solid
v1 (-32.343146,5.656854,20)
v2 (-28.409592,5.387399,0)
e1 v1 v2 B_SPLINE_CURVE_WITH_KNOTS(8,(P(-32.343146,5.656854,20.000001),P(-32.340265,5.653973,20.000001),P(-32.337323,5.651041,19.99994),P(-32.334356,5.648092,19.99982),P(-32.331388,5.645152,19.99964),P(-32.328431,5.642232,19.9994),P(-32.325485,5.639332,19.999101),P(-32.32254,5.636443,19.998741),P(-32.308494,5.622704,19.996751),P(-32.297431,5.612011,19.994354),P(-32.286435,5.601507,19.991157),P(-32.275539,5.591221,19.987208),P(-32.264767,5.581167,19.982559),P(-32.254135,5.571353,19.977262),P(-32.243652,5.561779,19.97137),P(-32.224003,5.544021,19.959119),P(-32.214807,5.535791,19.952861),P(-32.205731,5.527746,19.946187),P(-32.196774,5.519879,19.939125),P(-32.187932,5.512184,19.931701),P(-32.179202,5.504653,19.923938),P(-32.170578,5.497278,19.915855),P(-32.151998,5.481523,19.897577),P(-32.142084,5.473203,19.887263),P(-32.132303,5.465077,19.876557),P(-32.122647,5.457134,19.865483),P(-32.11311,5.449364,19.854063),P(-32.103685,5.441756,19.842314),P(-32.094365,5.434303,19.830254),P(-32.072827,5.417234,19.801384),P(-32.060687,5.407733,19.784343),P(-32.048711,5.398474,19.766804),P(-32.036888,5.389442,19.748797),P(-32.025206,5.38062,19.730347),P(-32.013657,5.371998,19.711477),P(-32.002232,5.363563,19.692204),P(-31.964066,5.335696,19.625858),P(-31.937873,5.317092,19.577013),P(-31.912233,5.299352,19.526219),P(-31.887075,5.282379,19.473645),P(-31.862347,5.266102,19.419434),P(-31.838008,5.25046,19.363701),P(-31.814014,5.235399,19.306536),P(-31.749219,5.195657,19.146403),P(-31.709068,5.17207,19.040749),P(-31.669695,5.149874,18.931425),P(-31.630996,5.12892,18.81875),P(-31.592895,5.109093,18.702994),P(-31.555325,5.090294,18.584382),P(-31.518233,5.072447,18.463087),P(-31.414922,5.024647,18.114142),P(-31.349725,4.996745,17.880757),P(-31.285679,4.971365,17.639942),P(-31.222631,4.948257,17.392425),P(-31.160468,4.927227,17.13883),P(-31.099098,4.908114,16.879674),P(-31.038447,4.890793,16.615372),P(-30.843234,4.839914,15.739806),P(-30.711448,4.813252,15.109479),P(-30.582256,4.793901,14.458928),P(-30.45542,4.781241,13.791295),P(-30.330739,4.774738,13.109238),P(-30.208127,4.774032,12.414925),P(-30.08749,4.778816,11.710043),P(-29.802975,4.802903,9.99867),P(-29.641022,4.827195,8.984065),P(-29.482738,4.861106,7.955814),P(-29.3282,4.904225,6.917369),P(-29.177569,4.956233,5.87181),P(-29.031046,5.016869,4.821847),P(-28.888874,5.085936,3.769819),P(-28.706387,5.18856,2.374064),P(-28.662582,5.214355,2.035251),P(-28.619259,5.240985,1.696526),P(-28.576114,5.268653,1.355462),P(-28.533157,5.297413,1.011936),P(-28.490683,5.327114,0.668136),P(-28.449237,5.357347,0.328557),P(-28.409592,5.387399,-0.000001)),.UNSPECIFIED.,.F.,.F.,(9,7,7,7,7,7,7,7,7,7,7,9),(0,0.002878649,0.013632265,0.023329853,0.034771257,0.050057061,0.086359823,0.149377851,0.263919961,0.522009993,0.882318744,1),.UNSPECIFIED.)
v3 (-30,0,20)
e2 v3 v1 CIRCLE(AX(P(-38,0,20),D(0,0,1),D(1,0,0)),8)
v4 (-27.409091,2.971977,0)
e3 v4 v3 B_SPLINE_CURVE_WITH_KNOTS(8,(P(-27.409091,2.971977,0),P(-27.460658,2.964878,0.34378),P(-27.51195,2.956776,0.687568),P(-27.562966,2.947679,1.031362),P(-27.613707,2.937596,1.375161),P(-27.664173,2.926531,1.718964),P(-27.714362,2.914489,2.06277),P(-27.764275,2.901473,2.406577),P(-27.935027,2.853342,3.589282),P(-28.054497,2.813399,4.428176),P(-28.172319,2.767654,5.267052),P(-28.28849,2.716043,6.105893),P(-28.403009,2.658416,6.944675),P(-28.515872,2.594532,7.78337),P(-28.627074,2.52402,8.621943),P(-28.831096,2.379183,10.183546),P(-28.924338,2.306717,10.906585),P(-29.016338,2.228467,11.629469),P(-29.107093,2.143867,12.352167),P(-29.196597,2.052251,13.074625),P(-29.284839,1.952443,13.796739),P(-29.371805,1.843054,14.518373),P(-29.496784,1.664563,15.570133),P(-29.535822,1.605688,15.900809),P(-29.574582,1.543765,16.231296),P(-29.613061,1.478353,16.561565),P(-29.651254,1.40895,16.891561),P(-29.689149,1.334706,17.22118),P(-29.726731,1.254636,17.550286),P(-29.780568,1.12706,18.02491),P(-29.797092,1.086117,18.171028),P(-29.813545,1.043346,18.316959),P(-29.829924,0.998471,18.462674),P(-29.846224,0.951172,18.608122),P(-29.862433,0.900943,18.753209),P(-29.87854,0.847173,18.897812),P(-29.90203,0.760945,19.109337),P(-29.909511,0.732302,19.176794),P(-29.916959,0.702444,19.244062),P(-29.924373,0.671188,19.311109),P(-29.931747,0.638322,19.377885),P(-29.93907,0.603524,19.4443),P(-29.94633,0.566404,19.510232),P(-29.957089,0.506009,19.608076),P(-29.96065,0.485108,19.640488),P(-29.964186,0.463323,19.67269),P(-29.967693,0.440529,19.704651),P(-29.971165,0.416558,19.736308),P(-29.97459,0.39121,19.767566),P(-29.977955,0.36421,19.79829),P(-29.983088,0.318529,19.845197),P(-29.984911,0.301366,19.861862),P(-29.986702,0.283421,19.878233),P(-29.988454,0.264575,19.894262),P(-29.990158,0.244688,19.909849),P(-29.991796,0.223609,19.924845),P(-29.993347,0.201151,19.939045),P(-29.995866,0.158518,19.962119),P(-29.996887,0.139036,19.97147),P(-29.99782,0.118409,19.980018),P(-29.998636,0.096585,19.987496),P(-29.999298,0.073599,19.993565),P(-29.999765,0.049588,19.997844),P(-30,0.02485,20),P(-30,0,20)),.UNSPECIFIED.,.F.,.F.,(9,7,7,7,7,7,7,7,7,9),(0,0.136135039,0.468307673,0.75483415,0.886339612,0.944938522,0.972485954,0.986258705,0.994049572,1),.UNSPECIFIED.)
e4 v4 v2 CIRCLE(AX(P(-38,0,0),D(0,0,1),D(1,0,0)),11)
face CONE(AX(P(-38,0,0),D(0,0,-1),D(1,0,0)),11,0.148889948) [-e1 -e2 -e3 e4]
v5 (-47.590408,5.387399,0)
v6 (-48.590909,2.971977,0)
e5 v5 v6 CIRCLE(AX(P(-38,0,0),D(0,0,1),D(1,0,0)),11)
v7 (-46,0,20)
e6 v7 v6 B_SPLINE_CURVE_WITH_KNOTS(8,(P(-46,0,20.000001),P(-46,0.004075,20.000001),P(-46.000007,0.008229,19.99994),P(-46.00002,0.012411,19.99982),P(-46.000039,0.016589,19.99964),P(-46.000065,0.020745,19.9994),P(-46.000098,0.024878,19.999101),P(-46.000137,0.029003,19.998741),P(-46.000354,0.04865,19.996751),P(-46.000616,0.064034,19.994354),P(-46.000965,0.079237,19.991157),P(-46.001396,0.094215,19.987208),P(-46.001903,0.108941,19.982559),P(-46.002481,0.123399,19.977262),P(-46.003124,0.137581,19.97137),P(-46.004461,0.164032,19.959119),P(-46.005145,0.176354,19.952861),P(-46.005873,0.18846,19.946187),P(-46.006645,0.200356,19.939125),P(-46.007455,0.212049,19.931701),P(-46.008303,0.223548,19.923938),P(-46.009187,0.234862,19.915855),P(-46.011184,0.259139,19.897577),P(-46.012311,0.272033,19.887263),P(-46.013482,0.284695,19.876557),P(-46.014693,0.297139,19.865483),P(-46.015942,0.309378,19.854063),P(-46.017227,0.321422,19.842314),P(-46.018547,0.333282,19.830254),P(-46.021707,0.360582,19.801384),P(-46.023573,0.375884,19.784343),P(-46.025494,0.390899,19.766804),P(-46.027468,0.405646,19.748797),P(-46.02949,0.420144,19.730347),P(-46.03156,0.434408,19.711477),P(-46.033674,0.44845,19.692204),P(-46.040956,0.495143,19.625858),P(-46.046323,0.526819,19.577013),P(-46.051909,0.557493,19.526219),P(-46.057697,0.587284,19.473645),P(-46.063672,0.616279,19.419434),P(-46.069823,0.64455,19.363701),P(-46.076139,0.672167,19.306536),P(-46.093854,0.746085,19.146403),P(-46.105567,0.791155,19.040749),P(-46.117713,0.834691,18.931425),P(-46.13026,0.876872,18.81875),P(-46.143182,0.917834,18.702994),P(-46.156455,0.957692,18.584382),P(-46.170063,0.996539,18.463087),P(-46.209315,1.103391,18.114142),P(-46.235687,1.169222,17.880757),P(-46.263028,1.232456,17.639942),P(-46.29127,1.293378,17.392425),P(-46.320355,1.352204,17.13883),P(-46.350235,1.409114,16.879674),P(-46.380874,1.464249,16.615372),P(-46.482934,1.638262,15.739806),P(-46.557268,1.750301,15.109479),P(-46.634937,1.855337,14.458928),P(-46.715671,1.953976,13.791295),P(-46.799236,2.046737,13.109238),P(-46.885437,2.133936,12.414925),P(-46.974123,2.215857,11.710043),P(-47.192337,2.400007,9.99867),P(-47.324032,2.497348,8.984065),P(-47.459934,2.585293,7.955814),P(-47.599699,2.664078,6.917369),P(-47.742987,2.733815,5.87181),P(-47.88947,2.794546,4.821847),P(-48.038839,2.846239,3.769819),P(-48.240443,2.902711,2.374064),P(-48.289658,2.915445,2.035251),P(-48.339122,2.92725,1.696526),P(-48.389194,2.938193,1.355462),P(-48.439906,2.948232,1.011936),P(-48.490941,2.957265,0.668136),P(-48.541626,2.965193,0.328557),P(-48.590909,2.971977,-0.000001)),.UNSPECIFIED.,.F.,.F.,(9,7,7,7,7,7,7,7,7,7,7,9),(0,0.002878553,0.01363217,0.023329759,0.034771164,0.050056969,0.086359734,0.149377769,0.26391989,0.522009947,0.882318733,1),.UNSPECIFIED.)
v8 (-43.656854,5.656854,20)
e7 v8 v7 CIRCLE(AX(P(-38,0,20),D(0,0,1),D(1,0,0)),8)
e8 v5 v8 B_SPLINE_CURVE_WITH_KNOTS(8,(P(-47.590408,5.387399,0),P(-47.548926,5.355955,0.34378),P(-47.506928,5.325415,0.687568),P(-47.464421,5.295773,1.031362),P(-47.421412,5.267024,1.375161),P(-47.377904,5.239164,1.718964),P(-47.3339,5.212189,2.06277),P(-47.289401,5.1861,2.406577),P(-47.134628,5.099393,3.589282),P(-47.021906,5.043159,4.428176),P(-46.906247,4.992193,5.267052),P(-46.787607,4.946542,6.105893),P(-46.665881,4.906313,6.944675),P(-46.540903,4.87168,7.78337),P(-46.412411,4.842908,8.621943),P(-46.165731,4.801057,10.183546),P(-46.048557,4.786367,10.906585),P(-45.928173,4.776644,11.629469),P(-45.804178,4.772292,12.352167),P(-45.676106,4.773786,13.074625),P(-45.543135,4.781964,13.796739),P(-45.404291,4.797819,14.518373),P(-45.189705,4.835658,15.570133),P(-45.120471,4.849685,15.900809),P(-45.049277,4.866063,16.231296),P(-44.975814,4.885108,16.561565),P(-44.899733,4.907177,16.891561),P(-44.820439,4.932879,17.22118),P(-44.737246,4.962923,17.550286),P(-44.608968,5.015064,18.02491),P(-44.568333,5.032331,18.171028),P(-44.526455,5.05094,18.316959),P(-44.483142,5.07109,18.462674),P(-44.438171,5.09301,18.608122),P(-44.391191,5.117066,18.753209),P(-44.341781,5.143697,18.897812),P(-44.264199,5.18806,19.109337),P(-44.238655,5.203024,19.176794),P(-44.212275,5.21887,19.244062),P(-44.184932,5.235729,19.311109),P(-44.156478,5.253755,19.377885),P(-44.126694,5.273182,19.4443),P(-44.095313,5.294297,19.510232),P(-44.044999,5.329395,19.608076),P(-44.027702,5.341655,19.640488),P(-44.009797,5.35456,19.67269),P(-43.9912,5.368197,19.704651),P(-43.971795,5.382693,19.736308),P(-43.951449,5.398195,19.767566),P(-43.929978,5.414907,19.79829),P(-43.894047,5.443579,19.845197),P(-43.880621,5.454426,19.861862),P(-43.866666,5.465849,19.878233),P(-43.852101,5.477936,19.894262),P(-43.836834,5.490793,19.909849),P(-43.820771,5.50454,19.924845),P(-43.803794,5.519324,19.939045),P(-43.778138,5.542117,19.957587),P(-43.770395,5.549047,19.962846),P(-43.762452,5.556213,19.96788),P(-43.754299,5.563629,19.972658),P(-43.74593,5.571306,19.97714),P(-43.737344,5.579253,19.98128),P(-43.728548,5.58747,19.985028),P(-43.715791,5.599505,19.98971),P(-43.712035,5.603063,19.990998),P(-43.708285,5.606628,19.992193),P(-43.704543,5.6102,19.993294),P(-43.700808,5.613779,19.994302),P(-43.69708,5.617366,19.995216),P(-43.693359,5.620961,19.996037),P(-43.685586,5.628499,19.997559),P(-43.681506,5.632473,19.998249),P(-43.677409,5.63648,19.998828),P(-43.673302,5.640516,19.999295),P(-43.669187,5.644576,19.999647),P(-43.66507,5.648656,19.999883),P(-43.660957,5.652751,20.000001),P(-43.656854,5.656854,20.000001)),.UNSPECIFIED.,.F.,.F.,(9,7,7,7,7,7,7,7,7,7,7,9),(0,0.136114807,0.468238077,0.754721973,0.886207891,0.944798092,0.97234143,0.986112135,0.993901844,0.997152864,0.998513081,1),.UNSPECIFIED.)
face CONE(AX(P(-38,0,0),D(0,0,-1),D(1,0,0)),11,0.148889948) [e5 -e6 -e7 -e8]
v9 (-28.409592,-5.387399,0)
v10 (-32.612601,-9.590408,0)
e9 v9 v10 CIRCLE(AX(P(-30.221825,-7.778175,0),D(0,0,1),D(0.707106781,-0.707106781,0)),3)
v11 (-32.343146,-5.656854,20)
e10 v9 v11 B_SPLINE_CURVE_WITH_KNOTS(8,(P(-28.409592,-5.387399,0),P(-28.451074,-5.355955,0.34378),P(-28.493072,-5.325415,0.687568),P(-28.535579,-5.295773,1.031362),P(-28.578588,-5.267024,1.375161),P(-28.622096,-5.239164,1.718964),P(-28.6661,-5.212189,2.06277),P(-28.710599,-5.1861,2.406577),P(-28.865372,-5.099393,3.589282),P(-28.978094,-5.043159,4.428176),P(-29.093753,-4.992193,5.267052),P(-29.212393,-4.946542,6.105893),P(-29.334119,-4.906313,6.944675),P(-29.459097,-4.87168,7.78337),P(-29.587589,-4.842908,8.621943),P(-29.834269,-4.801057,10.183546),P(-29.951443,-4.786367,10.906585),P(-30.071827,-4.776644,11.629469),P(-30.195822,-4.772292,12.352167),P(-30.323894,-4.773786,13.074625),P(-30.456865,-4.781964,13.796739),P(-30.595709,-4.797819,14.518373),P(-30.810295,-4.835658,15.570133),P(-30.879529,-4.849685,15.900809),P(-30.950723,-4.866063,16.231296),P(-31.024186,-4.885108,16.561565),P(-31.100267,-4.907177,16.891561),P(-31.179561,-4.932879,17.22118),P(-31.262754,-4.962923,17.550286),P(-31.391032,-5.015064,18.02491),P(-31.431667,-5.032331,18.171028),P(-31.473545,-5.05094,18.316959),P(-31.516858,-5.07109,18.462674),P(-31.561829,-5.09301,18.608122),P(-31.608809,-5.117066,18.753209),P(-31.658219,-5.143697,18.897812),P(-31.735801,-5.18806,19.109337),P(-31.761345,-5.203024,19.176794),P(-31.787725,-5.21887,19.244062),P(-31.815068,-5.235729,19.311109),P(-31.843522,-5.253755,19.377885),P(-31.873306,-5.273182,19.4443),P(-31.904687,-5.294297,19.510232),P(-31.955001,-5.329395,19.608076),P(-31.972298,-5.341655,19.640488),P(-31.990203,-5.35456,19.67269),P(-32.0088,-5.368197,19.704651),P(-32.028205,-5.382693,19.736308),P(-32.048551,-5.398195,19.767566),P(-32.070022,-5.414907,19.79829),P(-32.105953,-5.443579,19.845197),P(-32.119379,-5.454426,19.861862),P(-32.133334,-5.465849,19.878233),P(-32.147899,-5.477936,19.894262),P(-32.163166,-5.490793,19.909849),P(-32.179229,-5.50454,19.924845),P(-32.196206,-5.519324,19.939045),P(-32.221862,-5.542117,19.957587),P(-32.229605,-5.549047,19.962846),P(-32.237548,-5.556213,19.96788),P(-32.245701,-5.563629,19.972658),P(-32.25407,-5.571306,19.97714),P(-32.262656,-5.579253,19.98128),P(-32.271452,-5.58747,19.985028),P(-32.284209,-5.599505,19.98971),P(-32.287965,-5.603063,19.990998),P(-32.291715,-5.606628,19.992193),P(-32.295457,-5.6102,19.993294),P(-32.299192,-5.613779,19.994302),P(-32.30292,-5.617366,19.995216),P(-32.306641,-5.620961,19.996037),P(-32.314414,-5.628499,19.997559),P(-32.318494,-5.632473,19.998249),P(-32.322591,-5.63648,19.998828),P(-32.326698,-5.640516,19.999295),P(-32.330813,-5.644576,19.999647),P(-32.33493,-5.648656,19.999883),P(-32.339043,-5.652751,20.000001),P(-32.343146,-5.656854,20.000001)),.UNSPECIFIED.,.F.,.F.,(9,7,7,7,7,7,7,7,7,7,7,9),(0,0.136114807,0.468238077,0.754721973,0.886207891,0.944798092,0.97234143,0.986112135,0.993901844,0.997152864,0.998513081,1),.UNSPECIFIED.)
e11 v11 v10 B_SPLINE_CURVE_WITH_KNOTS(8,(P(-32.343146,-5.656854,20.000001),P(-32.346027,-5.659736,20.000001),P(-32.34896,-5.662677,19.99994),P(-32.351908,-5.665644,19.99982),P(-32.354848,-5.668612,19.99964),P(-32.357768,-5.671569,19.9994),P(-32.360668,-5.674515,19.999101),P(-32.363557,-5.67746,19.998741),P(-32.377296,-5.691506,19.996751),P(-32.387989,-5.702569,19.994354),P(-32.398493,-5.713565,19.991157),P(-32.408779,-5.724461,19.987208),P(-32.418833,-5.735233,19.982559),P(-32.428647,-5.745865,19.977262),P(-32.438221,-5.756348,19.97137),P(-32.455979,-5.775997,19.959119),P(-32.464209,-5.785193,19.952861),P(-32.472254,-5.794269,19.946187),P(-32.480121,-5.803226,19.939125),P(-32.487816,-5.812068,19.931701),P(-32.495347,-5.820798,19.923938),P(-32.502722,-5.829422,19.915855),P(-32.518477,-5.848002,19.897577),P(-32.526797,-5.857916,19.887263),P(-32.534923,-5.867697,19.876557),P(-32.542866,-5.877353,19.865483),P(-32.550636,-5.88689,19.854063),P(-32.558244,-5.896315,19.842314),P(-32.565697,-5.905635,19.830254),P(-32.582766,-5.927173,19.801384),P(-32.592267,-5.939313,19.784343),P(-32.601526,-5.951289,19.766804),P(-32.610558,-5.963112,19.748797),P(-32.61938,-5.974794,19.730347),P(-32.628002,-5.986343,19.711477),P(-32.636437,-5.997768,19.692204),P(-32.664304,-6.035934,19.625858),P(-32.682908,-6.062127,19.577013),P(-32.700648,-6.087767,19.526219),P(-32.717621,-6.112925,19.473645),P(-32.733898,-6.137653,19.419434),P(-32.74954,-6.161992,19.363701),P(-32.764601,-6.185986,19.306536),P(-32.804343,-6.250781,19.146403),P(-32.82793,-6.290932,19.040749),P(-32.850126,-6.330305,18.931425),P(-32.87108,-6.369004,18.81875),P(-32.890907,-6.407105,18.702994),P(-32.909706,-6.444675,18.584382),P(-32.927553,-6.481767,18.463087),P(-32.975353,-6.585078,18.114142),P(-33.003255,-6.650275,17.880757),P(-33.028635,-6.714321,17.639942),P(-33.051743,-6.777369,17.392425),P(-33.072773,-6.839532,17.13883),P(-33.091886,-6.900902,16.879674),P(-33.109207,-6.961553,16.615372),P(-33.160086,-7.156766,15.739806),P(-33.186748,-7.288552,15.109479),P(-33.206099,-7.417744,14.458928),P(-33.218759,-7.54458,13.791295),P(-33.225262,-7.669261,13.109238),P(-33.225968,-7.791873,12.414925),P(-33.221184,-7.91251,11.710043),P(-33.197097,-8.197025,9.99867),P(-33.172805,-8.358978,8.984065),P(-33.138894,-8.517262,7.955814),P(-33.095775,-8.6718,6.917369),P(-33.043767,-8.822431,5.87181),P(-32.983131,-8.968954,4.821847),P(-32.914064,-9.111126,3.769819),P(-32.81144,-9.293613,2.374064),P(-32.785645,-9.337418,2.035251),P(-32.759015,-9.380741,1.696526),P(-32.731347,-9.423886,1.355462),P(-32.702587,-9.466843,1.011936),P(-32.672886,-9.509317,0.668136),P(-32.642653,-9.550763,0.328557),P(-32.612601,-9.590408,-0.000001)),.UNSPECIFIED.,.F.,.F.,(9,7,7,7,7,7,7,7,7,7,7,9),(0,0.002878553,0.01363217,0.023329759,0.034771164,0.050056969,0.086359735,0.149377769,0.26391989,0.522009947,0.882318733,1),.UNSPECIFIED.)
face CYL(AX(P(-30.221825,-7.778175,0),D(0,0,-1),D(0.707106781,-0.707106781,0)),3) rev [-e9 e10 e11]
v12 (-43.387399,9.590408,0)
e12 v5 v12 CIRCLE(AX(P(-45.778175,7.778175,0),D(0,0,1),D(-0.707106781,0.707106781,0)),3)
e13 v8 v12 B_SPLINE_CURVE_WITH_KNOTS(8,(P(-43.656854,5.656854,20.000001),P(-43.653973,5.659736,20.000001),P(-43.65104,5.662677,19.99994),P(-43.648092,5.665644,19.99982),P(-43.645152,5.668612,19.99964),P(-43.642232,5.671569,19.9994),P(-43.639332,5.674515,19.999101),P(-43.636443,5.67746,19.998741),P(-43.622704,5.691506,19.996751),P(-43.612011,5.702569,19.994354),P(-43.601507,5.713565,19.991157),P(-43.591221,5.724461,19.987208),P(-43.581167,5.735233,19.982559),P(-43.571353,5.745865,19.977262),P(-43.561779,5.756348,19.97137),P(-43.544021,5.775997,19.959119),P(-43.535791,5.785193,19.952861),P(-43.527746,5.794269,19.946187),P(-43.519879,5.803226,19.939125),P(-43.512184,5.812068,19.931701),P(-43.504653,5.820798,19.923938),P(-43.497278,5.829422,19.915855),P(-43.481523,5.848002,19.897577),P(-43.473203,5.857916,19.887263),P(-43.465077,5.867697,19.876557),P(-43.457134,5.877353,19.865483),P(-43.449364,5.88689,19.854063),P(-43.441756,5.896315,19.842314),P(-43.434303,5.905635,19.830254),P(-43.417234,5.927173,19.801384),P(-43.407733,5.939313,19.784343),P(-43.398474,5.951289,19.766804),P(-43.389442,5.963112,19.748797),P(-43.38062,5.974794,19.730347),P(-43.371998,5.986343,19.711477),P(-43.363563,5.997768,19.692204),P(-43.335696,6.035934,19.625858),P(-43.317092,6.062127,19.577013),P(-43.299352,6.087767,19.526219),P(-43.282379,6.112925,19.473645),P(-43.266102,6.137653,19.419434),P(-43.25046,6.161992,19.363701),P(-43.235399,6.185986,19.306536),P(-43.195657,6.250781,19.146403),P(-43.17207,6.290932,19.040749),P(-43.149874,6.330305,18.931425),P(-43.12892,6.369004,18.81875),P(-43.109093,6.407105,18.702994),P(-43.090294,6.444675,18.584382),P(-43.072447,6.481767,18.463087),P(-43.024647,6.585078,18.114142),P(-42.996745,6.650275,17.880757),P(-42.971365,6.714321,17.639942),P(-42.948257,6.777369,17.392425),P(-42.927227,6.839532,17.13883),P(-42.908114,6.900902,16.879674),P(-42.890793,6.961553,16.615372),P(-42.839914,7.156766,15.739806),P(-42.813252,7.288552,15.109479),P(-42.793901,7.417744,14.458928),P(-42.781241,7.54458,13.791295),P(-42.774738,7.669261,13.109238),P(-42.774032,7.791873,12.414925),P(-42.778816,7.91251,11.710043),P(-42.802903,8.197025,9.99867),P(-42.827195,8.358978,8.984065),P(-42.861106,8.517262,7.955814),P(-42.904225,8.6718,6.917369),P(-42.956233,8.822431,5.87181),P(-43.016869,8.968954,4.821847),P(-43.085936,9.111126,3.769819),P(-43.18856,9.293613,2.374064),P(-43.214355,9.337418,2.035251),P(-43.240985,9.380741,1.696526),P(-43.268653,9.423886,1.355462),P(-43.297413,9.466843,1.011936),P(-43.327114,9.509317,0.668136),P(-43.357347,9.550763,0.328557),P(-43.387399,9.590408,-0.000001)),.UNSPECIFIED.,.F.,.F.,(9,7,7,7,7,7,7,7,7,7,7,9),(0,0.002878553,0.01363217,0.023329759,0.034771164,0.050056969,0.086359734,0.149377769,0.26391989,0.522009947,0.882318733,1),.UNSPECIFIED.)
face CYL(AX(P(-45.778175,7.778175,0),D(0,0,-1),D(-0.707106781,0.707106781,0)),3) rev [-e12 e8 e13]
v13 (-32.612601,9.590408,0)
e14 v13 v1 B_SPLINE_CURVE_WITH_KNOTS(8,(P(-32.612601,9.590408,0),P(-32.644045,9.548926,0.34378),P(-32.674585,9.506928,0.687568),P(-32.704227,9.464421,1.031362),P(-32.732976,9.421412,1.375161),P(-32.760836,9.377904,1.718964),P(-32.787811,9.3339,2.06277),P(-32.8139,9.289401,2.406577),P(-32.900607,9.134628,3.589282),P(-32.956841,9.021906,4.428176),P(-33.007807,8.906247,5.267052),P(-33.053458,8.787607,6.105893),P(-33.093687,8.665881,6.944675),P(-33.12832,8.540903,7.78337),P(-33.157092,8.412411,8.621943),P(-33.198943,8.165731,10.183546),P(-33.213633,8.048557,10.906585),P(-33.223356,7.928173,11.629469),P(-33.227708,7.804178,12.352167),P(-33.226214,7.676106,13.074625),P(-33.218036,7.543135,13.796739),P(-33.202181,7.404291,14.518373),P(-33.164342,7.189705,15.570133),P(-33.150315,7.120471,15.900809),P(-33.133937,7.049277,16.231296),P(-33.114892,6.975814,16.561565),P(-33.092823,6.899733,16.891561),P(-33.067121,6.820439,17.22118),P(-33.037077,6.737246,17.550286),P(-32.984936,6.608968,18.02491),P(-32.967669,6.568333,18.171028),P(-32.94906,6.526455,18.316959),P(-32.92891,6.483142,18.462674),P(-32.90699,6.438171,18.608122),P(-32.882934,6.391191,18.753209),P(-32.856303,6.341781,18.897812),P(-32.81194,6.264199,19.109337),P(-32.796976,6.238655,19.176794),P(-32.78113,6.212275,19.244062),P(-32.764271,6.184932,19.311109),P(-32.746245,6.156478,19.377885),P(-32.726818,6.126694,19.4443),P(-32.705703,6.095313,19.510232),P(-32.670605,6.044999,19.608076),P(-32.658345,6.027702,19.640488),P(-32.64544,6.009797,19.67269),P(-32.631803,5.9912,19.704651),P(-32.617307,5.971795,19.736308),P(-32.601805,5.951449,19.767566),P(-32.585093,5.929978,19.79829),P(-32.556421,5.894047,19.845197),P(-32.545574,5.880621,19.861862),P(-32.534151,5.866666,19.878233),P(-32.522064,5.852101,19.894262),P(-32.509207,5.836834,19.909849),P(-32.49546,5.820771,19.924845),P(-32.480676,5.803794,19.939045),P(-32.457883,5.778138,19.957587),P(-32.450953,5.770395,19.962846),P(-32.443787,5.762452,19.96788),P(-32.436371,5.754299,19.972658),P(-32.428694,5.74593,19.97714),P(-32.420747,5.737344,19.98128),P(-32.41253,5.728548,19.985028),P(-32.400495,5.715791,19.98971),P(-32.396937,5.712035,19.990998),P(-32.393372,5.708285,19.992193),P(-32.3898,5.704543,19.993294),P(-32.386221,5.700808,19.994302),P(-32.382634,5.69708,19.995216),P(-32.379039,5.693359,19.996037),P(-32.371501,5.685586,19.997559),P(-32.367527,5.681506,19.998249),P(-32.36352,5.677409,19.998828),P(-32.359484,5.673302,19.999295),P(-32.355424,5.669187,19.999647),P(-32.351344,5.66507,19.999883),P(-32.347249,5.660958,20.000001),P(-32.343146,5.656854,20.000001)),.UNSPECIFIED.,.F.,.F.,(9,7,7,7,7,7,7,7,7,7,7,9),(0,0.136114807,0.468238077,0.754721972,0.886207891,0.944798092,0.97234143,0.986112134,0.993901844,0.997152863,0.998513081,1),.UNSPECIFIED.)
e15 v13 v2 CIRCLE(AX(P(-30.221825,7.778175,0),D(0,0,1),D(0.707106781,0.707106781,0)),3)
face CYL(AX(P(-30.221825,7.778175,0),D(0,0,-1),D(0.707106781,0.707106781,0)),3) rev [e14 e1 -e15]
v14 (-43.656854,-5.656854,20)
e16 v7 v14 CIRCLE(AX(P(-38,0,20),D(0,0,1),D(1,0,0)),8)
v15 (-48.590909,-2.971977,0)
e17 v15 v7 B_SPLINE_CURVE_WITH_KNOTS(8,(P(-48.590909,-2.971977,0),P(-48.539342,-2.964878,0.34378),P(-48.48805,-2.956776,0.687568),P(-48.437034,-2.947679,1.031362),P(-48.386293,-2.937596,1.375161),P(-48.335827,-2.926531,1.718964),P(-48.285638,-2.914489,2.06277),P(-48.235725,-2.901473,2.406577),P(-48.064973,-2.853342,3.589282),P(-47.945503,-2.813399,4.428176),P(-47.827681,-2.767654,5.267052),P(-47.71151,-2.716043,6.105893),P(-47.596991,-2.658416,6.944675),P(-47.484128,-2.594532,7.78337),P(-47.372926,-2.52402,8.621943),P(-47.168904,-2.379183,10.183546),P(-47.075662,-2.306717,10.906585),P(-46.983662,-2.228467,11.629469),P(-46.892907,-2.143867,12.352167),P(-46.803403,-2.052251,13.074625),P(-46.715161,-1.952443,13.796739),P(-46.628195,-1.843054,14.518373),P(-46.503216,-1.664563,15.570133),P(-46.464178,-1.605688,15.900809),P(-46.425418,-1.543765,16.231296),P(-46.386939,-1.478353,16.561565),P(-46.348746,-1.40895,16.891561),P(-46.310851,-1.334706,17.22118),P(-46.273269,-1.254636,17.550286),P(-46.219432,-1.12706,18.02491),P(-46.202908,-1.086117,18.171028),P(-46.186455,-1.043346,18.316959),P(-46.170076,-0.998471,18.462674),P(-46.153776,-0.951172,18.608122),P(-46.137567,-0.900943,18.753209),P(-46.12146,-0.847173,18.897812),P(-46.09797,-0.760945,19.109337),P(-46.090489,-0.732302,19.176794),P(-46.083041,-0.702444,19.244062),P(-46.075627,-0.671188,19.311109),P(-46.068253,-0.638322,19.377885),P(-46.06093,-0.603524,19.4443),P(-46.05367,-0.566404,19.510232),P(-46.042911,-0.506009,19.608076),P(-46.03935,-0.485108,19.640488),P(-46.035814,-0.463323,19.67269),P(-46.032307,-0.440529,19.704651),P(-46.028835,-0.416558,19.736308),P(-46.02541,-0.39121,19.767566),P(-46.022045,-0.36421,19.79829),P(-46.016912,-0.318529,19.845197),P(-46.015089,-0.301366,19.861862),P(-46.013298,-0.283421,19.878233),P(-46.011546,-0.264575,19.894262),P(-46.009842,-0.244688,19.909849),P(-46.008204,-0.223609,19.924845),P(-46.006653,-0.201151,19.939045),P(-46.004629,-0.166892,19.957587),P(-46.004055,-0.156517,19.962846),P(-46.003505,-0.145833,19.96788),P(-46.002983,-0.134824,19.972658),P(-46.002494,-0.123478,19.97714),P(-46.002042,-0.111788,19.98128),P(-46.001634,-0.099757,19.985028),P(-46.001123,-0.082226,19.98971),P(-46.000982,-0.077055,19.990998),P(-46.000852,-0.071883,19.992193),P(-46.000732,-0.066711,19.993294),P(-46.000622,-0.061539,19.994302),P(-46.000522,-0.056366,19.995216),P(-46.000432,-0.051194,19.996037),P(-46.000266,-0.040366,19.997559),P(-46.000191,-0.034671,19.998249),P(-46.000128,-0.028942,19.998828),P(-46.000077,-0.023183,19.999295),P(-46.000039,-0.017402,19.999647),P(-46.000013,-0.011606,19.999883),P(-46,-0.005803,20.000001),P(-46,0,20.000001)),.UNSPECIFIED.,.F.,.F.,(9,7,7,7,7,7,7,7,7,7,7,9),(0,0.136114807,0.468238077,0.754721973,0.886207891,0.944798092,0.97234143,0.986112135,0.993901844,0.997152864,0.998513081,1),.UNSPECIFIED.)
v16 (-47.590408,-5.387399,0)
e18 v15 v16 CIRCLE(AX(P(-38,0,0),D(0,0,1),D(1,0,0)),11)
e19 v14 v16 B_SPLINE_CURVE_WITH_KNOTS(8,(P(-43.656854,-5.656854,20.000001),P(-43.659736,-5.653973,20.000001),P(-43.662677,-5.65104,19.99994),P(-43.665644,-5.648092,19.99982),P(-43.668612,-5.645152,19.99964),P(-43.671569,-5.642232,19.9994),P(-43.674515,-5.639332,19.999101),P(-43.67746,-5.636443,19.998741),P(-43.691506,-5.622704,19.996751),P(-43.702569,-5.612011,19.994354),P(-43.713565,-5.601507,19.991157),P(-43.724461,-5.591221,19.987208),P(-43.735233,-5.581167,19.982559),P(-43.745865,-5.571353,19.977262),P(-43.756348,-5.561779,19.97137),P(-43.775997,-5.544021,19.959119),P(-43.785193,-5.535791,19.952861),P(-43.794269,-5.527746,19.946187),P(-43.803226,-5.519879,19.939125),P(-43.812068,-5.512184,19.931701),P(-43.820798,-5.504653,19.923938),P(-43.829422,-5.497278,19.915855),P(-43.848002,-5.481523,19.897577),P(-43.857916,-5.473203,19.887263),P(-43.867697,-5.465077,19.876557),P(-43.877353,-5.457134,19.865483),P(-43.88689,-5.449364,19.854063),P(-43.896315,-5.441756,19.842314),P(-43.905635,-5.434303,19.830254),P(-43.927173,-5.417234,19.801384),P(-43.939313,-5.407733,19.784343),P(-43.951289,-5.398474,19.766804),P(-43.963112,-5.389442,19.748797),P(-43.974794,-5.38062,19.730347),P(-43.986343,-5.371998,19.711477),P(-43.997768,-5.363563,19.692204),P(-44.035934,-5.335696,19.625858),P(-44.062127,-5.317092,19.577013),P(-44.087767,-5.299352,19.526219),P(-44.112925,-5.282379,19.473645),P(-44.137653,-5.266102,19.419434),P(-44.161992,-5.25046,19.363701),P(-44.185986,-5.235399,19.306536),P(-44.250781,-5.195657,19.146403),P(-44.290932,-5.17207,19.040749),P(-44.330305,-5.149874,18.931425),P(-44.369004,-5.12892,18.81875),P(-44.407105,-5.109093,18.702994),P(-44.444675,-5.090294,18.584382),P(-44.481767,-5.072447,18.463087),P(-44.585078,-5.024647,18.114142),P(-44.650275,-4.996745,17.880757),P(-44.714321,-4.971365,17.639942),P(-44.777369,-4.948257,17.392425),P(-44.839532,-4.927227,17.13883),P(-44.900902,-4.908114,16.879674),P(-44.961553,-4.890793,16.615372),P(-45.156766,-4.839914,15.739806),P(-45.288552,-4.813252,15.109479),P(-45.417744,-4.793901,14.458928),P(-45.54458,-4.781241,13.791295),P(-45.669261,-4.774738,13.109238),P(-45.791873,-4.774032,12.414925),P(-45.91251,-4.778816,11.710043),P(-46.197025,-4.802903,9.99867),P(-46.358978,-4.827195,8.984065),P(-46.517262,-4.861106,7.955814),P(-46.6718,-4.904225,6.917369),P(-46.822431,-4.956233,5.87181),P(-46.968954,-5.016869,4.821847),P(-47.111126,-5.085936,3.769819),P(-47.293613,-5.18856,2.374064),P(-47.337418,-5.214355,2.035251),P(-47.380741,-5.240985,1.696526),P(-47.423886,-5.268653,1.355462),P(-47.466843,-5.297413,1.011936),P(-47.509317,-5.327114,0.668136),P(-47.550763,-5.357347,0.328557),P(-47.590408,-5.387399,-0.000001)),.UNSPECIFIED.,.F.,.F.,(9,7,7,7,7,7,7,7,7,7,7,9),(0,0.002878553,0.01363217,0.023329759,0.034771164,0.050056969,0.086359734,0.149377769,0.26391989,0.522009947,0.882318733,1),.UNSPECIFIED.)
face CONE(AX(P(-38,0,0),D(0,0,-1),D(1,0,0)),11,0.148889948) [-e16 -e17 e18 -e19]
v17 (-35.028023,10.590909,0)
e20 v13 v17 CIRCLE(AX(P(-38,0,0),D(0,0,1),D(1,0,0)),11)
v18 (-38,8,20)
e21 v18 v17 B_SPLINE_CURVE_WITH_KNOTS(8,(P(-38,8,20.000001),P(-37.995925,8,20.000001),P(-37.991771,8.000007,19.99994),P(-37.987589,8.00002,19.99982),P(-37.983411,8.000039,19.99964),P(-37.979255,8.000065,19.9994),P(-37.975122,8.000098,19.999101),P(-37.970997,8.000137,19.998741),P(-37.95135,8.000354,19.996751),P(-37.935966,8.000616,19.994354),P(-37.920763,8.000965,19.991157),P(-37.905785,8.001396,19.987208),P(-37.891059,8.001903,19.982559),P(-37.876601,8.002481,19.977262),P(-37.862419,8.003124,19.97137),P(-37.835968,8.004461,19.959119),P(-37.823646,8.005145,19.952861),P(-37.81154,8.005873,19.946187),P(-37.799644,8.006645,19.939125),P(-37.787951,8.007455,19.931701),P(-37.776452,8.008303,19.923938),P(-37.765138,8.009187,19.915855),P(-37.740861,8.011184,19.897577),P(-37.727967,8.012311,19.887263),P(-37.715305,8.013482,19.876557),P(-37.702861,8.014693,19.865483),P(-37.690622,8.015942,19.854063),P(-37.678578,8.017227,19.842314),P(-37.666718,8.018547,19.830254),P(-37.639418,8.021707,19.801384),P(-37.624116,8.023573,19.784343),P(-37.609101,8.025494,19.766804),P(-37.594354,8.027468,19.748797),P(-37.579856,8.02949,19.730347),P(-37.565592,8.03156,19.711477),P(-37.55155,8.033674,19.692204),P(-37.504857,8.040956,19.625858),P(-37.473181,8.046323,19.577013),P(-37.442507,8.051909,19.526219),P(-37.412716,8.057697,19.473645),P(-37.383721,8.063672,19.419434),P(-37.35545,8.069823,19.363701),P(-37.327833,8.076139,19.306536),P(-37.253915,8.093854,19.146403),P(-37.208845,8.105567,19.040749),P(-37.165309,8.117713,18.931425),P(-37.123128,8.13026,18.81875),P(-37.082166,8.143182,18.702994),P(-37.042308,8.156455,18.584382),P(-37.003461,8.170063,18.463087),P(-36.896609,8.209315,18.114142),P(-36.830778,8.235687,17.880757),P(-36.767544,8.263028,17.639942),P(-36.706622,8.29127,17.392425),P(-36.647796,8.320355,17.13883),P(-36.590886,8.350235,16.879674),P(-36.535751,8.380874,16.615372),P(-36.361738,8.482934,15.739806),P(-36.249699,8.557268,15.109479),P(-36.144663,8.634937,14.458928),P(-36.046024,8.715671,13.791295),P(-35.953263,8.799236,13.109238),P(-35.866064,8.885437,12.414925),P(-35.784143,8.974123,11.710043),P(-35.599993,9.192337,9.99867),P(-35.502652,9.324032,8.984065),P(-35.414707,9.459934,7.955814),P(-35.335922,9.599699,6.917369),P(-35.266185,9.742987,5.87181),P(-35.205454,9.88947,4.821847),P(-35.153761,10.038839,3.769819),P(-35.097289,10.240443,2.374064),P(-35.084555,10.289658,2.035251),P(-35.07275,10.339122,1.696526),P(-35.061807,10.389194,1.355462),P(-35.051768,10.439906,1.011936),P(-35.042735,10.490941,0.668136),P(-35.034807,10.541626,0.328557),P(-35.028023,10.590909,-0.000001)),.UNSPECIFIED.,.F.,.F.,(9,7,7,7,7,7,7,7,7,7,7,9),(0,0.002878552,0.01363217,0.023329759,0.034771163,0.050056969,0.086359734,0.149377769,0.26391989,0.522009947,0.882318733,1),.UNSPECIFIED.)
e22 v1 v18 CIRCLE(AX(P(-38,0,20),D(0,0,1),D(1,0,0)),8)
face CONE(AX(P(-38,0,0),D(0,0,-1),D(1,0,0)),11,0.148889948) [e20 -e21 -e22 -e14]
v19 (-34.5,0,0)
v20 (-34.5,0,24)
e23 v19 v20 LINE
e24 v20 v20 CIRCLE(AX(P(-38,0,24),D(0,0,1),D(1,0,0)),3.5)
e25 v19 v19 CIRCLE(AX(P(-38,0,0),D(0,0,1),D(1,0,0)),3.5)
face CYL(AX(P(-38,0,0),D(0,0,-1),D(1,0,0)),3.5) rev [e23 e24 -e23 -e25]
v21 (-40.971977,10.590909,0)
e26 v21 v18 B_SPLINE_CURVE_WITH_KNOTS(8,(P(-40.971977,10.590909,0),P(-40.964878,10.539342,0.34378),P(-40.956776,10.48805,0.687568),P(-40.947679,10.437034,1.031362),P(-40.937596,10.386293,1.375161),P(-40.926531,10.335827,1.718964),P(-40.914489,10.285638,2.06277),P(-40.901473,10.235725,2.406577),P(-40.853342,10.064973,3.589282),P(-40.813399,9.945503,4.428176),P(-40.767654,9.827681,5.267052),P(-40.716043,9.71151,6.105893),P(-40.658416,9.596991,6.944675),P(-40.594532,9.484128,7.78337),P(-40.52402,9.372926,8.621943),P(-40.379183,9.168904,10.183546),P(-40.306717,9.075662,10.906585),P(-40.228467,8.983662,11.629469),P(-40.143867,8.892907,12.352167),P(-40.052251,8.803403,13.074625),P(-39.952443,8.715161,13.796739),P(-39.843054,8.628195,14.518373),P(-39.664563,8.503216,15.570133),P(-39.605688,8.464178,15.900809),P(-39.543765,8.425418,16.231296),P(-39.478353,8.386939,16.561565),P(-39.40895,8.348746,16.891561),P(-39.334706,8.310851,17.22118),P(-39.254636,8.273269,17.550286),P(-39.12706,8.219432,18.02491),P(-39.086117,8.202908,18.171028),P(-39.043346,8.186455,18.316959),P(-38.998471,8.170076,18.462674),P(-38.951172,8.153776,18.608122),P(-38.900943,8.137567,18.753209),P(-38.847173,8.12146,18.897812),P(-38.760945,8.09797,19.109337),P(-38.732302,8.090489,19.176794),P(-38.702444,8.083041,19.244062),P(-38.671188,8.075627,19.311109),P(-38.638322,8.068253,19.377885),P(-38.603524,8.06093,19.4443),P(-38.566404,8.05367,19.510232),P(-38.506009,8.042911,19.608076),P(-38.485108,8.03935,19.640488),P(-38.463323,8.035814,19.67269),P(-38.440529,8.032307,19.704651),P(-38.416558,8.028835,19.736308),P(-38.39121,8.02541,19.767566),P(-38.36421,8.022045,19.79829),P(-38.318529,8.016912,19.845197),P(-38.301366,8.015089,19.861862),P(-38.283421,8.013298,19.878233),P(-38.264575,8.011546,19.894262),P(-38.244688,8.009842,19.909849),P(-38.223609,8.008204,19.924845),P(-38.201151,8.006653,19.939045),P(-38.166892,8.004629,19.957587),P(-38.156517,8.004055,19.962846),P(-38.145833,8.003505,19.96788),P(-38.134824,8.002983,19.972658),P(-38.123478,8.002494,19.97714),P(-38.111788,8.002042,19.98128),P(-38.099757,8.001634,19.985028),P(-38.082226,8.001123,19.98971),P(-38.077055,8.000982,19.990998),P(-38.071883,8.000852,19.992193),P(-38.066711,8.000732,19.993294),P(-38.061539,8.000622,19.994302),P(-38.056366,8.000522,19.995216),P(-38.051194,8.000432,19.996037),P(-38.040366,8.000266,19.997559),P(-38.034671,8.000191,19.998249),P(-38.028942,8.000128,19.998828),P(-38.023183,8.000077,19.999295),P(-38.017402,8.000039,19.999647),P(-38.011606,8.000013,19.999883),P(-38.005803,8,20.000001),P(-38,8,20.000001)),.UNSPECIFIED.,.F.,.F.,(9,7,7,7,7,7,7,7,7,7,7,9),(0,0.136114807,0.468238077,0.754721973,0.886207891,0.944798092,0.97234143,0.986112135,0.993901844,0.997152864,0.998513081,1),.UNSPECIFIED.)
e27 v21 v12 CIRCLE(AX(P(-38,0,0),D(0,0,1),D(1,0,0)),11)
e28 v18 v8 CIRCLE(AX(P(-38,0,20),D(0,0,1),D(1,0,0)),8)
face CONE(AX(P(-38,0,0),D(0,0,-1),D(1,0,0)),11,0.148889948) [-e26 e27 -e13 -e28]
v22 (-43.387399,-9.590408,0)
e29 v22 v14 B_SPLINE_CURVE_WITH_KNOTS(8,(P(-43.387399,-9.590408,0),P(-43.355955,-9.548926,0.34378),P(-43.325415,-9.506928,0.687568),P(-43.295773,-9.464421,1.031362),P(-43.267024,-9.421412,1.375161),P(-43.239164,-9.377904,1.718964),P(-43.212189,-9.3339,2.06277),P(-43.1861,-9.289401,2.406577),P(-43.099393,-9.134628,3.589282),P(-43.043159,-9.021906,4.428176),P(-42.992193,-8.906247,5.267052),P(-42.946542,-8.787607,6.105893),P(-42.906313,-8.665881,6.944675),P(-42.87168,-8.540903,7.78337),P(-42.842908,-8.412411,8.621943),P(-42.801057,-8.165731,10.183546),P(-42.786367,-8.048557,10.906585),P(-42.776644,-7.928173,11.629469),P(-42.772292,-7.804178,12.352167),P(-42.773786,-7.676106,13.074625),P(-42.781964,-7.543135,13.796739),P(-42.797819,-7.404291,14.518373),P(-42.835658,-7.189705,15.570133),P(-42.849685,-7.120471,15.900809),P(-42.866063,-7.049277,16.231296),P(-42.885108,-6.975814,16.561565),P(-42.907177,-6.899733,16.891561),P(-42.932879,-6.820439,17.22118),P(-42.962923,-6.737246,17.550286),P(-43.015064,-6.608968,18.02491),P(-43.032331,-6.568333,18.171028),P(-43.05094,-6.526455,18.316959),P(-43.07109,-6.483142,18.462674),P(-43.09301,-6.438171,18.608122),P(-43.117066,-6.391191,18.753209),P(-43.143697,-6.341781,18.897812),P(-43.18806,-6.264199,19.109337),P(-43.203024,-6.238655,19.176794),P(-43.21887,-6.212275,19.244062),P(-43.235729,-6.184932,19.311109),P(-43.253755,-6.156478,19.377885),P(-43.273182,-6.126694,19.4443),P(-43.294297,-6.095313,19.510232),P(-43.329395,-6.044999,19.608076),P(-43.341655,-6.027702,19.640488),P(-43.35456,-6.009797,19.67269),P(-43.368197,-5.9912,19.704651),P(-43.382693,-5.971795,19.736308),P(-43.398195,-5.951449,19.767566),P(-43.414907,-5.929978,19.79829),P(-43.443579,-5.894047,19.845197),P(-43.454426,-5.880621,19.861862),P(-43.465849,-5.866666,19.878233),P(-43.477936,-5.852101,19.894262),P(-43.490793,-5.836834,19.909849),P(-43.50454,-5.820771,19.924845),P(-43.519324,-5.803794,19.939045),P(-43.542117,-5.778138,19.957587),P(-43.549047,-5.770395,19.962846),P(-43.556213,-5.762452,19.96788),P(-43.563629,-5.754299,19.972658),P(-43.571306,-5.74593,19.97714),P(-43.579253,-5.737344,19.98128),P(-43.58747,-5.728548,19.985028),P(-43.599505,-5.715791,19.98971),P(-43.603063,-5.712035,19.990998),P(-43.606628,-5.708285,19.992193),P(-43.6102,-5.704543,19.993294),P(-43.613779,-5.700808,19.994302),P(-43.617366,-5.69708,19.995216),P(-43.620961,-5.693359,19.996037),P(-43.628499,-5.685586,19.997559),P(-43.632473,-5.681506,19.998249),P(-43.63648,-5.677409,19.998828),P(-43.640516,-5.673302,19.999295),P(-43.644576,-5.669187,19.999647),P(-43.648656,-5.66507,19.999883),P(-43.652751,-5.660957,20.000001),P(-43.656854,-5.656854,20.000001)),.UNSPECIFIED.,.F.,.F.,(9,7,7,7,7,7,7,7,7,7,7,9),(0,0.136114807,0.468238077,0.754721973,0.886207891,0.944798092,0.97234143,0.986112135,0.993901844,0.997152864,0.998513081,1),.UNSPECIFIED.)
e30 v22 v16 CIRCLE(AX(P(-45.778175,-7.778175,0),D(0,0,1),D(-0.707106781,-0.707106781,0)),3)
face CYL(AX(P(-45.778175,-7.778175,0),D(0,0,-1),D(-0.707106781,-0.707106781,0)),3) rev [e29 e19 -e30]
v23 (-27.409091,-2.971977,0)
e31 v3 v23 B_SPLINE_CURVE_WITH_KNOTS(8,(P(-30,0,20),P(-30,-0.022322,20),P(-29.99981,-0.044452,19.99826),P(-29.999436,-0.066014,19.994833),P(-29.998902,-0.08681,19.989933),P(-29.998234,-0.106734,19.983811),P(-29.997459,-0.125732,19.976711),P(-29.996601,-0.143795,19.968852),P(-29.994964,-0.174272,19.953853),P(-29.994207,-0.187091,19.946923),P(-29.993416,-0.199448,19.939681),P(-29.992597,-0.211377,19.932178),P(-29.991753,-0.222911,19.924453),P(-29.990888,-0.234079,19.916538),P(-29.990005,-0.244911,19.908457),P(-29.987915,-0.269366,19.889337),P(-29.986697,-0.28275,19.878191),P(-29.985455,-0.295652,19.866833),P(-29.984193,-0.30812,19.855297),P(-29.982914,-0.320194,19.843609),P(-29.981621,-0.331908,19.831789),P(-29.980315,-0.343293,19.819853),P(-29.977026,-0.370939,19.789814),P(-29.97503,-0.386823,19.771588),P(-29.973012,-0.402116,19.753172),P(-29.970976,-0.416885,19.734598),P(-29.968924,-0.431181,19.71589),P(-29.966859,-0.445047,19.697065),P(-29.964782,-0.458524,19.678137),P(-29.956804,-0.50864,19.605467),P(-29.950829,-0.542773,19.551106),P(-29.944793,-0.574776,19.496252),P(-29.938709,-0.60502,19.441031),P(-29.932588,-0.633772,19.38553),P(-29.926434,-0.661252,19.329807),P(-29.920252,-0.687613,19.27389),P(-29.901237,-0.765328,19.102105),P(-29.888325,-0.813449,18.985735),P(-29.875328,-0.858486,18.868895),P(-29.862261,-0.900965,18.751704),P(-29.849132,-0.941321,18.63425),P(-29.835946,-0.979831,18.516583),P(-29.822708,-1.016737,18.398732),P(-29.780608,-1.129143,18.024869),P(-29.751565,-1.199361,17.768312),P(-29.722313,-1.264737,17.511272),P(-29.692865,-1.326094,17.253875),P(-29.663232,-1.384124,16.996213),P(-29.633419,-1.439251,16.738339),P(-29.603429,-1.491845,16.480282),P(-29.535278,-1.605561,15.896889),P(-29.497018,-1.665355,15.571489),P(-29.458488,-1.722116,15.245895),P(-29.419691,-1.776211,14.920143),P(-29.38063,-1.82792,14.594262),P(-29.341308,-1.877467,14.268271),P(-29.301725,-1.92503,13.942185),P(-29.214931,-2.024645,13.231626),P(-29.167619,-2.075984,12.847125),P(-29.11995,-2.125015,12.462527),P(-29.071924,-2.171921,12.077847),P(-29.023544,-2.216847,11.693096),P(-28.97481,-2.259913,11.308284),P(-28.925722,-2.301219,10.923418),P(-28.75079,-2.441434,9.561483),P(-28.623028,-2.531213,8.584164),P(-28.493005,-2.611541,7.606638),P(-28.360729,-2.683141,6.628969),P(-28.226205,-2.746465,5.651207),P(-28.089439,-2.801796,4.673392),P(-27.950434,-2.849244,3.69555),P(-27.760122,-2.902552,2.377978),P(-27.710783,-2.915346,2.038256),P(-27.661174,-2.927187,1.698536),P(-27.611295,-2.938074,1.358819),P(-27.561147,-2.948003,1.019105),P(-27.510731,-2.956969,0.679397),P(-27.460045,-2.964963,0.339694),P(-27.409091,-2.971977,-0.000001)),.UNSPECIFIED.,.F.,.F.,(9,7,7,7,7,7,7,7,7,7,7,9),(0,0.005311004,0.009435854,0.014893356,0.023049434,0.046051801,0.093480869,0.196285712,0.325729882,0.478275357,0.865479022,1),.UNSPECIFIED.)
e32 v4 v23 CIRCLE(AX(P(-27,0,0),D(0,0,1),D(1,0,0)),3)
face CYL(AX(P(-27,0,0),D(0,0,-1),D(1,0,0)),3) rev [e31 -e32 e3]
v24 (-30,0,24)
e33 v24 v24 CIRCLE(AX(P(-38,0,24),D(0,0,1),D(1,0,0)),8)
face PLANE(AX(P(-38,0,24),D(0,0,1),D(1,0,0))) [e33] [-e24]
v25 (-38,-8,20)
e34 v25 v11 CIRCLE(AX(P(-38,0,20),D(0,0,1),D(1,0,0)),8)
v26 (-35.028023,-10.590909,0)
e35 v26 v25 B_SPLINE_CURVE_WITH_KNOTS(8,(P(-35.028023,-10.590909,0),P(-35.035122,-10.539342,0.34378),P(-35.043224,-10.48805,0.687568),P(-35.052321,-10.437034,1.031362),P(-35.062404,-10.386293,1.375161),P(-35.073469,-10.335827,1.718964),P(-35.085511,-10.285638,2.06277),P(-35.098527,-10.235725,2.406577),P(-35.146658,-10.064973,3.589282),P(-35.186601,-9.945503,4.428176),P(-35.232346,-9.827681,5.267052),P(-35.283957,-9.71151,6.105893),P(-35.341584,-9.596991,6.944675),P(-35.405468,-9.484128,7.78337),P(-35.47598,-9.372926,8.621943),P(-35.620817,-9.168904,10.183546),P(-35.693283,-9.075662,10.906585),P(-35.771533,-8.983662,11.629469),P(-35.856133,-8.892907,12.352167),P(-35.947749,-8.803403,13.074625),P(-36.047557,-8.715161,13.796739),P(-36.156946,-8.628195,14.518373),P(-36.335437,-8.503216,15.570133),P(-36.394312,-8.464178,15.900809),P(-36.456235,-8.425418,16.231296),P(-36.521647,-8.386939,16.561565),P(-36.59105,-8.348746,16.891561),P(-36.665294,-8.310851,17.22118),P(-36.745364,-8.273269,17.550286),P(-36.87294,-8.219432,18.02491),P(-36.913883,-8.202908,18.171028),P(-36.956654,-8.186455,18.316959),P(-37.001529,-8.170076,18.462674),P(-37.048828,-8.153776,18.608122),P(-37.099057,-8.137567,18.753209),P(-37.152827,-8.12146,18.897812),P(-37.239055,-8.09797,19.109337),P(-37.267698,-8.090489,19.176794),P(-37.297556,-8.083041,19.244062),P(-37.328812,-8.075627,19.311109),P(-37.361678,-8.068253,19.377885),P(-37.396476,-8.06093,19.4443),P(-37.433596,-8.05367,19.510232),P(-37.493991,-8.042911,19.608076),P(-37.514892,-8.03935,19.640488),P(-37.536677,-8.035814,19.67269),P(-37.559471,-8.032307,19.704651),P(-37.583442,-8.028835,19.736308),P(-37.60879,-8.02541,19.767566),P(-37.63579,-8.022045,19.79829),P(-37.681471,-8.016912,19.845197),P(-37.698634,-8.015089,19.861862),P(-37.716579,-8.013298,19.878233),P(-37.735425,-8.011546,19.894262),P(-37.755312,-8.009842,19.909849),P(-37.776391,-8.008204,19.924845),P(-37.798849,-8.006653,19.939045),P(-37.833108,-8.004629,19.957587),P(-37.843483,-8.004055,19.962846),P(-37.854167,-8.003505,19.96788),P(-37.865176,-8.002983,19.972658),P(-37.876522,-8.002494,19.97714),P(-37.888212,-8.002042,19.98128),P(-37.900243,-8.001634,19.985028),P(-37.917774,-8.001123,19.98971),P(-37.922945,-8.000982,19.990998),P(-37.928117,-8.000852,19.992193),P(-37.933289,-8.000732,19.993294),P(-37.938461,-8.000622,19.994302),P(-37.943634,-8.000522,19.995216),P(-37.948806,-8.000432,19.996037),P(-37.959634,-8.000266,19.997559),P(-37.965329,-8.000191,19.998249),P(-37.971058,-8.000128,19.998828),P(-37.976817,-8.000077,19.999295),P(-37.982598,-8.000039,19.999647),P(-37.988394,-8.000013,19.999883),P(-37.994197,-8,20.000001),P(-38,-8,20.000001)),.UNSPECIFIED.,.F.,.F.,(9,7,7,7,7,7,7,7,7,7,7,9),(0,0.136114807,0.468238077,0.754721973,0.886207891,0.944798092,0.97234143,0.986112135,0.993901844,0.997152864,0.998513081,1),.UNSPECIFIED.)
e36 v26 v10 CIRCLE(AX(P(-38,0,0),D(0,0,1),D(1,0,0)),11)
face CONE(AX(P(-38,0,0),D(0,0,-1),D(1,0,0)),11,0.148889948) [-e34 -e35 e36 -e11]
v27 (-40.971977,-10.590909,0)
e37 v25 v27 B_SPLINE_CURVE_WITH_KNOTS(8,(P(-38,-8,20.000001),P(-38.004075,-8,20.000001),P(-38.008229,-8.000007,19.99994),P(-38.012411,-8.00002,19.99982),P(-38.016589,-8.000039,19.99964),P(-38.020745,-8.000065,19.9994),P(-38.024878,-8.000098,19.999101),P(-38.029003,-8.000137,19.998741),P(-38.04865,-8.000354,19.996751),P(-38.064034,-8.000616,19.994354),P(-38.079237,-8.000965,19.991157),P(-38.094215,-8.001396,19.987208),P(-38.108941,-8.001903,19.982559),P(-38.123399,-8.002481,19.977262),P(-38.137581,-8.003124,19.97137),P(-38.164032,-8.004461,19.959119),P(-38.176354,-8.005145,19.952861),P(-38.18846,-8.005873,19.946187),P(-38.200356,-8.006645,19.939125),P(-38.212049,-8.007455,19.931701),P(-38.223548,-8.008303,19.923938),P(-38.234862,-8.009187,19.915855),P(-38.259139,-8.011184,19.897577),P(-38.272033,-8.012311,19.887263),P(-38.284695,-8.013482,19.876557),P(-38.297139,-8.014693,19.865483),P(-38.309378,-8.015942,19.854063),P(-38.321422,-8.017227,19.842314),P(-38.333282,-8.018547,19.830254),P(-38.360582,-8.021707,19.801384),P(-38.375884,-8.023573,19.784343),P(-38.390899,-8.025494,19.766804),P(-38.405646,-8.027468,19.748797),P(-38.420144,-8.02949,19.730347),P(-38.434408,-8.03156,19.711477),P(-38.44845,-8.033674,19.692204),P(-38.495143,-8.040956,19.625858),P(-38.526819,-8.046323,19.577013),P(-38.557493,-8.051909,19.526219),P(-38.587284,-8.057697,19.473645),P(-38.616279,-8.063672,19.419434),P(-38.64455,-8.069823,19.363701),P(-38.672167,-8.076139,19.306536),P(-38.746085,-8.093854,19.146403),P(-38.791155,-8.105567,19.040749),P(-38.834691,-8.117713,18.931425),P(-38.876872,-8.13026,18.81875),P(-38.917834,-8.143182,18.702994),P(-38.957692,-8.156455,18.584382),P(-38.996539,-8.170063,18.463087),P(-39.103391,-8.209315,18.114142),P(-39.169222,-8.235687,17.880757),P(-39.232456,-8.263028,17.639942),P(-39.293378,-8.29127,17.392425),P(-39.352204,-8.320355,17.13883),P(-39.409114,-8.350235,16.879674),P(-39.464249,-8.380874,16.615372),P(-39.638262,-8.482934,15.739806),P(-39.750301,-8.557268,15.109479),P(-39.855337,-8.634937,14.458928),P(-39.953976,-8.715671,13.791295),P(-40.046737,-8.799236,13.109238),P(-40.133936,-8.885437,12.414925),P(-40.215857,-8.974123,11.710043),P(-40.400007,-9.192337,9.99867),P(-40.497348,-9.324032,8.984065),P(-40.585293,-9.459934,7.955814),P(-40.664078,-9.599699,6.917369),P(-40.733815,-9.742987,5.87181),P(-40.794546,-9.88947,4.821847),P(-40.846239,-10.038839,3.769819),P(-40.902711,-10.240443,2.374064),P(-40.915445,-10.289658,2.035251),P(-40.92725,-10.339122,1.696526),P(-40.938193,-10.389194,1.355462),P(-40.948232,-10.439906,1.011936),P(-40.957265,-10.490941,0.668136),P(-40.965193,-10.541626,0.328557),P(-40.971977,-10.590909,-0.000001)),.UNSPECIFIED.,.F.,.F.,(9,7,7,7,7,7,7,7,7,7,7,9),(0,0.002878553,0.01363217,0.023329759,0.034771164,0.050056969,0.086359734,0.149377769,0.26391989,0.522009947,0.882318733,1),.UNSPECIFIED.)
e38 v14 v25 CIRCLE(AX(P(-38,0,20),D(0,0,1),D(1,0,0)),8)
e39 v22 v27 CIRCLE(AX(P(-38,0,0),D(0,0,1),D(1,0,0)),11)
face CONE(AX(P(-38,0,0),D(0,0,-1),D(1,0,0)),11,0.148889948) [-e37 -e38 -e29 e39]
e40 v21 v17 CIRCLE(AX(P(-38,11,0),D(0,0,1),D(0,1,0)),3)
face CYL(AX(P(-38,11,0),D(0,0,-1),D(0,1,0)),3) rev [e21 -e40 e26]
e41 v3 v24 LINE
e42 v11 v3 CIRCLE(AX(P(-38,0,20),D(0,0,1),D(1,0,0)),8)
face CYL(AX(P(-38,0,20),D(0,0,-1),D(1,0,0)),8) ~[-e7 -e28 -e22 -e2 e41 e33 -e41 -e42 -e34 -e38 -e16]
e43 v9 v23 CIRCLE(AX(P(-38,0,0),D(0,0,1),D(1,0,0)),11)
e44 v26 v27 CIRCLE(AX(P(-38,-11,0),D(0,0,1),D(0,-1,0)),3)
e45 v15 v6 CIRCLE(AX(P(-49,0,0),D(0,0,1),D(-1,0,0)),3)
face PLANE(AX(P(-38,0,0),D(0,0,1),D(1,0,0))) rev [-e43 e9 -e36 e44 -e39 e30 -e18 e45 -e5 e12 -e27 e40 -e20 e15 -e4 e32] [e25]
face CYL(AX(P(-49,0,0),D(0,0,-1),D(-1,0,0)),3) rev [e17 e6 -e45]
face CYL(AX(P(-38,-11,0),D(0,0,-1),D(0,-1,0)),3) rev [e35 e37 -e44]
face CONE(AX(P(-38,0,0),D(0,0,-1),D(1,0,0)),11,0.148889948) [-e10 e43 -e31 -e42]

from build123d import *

# Parameters (mm, degrees)
CYLINDER030_R         = 8
CYLINDER030_DEPTH     = 4
CYLINDER056_R         = 3
CYLINDER056_DEPTH     = 20
POLARPATTERN011_COUNT = 8
CYLINDER057_R         = 3.5
CYLINDER057_DEPTH     = 24


with BuildPart() as part:
    # Cone → Cone (revolve)
    with BuildSketch(Plane.XZ):
        Polygon((0, 0), (11, 0), (8, 20), (0, 20), align=None)
    revolve(axis=Axis((0, 0, 0), (0, 0, 1)))

    # Cylinder030 → Cylinder030 (join)
    with BuildSketch(Plane.XY.offset(20)):
        Circle(CYLINDER030_R)
    extrude(amount=CYLINDER030_DEPTH)

    # Cylinder056 → Cylinder056 (cut)
    with BuildSketch(Plane(origin=(11, 0, 0), x_dir=(1, 0, 0), z_dir=(0, 0, 1))):
        Circle(CYLINDER056_R)
    cylinder056 = extrude(amount=CYLINDER056_DEPTH, mode=Mode.SUBTRACT)

    # PolarPattern011: Cylinder056 ×8 about axis
    polarpattern011_axis = Axis((0, 0, 0), (0, 0, 1))
    for i in range(1, POLARPATTERN011_COUNT):
        add(cylinder056.rotate(polarpattern011_axis, i * 360 / POLARPATTERN011_COUNT), mode=Mode.SUBTRACT)

    # Cylinder057 → Cylinder057 (cut)
    with BuildSketch(Plane.XY):
        Circle(CYLINDER057_R)
    extrude(amount=CYLINDER057_DEPTH, mode=Mode.SUBTRACT)


with BuildPart() as part_1:
    # Body017 placement: moved
    add(part.part.moved(Location((-38, 0, 0))))


solid = part_1.part
